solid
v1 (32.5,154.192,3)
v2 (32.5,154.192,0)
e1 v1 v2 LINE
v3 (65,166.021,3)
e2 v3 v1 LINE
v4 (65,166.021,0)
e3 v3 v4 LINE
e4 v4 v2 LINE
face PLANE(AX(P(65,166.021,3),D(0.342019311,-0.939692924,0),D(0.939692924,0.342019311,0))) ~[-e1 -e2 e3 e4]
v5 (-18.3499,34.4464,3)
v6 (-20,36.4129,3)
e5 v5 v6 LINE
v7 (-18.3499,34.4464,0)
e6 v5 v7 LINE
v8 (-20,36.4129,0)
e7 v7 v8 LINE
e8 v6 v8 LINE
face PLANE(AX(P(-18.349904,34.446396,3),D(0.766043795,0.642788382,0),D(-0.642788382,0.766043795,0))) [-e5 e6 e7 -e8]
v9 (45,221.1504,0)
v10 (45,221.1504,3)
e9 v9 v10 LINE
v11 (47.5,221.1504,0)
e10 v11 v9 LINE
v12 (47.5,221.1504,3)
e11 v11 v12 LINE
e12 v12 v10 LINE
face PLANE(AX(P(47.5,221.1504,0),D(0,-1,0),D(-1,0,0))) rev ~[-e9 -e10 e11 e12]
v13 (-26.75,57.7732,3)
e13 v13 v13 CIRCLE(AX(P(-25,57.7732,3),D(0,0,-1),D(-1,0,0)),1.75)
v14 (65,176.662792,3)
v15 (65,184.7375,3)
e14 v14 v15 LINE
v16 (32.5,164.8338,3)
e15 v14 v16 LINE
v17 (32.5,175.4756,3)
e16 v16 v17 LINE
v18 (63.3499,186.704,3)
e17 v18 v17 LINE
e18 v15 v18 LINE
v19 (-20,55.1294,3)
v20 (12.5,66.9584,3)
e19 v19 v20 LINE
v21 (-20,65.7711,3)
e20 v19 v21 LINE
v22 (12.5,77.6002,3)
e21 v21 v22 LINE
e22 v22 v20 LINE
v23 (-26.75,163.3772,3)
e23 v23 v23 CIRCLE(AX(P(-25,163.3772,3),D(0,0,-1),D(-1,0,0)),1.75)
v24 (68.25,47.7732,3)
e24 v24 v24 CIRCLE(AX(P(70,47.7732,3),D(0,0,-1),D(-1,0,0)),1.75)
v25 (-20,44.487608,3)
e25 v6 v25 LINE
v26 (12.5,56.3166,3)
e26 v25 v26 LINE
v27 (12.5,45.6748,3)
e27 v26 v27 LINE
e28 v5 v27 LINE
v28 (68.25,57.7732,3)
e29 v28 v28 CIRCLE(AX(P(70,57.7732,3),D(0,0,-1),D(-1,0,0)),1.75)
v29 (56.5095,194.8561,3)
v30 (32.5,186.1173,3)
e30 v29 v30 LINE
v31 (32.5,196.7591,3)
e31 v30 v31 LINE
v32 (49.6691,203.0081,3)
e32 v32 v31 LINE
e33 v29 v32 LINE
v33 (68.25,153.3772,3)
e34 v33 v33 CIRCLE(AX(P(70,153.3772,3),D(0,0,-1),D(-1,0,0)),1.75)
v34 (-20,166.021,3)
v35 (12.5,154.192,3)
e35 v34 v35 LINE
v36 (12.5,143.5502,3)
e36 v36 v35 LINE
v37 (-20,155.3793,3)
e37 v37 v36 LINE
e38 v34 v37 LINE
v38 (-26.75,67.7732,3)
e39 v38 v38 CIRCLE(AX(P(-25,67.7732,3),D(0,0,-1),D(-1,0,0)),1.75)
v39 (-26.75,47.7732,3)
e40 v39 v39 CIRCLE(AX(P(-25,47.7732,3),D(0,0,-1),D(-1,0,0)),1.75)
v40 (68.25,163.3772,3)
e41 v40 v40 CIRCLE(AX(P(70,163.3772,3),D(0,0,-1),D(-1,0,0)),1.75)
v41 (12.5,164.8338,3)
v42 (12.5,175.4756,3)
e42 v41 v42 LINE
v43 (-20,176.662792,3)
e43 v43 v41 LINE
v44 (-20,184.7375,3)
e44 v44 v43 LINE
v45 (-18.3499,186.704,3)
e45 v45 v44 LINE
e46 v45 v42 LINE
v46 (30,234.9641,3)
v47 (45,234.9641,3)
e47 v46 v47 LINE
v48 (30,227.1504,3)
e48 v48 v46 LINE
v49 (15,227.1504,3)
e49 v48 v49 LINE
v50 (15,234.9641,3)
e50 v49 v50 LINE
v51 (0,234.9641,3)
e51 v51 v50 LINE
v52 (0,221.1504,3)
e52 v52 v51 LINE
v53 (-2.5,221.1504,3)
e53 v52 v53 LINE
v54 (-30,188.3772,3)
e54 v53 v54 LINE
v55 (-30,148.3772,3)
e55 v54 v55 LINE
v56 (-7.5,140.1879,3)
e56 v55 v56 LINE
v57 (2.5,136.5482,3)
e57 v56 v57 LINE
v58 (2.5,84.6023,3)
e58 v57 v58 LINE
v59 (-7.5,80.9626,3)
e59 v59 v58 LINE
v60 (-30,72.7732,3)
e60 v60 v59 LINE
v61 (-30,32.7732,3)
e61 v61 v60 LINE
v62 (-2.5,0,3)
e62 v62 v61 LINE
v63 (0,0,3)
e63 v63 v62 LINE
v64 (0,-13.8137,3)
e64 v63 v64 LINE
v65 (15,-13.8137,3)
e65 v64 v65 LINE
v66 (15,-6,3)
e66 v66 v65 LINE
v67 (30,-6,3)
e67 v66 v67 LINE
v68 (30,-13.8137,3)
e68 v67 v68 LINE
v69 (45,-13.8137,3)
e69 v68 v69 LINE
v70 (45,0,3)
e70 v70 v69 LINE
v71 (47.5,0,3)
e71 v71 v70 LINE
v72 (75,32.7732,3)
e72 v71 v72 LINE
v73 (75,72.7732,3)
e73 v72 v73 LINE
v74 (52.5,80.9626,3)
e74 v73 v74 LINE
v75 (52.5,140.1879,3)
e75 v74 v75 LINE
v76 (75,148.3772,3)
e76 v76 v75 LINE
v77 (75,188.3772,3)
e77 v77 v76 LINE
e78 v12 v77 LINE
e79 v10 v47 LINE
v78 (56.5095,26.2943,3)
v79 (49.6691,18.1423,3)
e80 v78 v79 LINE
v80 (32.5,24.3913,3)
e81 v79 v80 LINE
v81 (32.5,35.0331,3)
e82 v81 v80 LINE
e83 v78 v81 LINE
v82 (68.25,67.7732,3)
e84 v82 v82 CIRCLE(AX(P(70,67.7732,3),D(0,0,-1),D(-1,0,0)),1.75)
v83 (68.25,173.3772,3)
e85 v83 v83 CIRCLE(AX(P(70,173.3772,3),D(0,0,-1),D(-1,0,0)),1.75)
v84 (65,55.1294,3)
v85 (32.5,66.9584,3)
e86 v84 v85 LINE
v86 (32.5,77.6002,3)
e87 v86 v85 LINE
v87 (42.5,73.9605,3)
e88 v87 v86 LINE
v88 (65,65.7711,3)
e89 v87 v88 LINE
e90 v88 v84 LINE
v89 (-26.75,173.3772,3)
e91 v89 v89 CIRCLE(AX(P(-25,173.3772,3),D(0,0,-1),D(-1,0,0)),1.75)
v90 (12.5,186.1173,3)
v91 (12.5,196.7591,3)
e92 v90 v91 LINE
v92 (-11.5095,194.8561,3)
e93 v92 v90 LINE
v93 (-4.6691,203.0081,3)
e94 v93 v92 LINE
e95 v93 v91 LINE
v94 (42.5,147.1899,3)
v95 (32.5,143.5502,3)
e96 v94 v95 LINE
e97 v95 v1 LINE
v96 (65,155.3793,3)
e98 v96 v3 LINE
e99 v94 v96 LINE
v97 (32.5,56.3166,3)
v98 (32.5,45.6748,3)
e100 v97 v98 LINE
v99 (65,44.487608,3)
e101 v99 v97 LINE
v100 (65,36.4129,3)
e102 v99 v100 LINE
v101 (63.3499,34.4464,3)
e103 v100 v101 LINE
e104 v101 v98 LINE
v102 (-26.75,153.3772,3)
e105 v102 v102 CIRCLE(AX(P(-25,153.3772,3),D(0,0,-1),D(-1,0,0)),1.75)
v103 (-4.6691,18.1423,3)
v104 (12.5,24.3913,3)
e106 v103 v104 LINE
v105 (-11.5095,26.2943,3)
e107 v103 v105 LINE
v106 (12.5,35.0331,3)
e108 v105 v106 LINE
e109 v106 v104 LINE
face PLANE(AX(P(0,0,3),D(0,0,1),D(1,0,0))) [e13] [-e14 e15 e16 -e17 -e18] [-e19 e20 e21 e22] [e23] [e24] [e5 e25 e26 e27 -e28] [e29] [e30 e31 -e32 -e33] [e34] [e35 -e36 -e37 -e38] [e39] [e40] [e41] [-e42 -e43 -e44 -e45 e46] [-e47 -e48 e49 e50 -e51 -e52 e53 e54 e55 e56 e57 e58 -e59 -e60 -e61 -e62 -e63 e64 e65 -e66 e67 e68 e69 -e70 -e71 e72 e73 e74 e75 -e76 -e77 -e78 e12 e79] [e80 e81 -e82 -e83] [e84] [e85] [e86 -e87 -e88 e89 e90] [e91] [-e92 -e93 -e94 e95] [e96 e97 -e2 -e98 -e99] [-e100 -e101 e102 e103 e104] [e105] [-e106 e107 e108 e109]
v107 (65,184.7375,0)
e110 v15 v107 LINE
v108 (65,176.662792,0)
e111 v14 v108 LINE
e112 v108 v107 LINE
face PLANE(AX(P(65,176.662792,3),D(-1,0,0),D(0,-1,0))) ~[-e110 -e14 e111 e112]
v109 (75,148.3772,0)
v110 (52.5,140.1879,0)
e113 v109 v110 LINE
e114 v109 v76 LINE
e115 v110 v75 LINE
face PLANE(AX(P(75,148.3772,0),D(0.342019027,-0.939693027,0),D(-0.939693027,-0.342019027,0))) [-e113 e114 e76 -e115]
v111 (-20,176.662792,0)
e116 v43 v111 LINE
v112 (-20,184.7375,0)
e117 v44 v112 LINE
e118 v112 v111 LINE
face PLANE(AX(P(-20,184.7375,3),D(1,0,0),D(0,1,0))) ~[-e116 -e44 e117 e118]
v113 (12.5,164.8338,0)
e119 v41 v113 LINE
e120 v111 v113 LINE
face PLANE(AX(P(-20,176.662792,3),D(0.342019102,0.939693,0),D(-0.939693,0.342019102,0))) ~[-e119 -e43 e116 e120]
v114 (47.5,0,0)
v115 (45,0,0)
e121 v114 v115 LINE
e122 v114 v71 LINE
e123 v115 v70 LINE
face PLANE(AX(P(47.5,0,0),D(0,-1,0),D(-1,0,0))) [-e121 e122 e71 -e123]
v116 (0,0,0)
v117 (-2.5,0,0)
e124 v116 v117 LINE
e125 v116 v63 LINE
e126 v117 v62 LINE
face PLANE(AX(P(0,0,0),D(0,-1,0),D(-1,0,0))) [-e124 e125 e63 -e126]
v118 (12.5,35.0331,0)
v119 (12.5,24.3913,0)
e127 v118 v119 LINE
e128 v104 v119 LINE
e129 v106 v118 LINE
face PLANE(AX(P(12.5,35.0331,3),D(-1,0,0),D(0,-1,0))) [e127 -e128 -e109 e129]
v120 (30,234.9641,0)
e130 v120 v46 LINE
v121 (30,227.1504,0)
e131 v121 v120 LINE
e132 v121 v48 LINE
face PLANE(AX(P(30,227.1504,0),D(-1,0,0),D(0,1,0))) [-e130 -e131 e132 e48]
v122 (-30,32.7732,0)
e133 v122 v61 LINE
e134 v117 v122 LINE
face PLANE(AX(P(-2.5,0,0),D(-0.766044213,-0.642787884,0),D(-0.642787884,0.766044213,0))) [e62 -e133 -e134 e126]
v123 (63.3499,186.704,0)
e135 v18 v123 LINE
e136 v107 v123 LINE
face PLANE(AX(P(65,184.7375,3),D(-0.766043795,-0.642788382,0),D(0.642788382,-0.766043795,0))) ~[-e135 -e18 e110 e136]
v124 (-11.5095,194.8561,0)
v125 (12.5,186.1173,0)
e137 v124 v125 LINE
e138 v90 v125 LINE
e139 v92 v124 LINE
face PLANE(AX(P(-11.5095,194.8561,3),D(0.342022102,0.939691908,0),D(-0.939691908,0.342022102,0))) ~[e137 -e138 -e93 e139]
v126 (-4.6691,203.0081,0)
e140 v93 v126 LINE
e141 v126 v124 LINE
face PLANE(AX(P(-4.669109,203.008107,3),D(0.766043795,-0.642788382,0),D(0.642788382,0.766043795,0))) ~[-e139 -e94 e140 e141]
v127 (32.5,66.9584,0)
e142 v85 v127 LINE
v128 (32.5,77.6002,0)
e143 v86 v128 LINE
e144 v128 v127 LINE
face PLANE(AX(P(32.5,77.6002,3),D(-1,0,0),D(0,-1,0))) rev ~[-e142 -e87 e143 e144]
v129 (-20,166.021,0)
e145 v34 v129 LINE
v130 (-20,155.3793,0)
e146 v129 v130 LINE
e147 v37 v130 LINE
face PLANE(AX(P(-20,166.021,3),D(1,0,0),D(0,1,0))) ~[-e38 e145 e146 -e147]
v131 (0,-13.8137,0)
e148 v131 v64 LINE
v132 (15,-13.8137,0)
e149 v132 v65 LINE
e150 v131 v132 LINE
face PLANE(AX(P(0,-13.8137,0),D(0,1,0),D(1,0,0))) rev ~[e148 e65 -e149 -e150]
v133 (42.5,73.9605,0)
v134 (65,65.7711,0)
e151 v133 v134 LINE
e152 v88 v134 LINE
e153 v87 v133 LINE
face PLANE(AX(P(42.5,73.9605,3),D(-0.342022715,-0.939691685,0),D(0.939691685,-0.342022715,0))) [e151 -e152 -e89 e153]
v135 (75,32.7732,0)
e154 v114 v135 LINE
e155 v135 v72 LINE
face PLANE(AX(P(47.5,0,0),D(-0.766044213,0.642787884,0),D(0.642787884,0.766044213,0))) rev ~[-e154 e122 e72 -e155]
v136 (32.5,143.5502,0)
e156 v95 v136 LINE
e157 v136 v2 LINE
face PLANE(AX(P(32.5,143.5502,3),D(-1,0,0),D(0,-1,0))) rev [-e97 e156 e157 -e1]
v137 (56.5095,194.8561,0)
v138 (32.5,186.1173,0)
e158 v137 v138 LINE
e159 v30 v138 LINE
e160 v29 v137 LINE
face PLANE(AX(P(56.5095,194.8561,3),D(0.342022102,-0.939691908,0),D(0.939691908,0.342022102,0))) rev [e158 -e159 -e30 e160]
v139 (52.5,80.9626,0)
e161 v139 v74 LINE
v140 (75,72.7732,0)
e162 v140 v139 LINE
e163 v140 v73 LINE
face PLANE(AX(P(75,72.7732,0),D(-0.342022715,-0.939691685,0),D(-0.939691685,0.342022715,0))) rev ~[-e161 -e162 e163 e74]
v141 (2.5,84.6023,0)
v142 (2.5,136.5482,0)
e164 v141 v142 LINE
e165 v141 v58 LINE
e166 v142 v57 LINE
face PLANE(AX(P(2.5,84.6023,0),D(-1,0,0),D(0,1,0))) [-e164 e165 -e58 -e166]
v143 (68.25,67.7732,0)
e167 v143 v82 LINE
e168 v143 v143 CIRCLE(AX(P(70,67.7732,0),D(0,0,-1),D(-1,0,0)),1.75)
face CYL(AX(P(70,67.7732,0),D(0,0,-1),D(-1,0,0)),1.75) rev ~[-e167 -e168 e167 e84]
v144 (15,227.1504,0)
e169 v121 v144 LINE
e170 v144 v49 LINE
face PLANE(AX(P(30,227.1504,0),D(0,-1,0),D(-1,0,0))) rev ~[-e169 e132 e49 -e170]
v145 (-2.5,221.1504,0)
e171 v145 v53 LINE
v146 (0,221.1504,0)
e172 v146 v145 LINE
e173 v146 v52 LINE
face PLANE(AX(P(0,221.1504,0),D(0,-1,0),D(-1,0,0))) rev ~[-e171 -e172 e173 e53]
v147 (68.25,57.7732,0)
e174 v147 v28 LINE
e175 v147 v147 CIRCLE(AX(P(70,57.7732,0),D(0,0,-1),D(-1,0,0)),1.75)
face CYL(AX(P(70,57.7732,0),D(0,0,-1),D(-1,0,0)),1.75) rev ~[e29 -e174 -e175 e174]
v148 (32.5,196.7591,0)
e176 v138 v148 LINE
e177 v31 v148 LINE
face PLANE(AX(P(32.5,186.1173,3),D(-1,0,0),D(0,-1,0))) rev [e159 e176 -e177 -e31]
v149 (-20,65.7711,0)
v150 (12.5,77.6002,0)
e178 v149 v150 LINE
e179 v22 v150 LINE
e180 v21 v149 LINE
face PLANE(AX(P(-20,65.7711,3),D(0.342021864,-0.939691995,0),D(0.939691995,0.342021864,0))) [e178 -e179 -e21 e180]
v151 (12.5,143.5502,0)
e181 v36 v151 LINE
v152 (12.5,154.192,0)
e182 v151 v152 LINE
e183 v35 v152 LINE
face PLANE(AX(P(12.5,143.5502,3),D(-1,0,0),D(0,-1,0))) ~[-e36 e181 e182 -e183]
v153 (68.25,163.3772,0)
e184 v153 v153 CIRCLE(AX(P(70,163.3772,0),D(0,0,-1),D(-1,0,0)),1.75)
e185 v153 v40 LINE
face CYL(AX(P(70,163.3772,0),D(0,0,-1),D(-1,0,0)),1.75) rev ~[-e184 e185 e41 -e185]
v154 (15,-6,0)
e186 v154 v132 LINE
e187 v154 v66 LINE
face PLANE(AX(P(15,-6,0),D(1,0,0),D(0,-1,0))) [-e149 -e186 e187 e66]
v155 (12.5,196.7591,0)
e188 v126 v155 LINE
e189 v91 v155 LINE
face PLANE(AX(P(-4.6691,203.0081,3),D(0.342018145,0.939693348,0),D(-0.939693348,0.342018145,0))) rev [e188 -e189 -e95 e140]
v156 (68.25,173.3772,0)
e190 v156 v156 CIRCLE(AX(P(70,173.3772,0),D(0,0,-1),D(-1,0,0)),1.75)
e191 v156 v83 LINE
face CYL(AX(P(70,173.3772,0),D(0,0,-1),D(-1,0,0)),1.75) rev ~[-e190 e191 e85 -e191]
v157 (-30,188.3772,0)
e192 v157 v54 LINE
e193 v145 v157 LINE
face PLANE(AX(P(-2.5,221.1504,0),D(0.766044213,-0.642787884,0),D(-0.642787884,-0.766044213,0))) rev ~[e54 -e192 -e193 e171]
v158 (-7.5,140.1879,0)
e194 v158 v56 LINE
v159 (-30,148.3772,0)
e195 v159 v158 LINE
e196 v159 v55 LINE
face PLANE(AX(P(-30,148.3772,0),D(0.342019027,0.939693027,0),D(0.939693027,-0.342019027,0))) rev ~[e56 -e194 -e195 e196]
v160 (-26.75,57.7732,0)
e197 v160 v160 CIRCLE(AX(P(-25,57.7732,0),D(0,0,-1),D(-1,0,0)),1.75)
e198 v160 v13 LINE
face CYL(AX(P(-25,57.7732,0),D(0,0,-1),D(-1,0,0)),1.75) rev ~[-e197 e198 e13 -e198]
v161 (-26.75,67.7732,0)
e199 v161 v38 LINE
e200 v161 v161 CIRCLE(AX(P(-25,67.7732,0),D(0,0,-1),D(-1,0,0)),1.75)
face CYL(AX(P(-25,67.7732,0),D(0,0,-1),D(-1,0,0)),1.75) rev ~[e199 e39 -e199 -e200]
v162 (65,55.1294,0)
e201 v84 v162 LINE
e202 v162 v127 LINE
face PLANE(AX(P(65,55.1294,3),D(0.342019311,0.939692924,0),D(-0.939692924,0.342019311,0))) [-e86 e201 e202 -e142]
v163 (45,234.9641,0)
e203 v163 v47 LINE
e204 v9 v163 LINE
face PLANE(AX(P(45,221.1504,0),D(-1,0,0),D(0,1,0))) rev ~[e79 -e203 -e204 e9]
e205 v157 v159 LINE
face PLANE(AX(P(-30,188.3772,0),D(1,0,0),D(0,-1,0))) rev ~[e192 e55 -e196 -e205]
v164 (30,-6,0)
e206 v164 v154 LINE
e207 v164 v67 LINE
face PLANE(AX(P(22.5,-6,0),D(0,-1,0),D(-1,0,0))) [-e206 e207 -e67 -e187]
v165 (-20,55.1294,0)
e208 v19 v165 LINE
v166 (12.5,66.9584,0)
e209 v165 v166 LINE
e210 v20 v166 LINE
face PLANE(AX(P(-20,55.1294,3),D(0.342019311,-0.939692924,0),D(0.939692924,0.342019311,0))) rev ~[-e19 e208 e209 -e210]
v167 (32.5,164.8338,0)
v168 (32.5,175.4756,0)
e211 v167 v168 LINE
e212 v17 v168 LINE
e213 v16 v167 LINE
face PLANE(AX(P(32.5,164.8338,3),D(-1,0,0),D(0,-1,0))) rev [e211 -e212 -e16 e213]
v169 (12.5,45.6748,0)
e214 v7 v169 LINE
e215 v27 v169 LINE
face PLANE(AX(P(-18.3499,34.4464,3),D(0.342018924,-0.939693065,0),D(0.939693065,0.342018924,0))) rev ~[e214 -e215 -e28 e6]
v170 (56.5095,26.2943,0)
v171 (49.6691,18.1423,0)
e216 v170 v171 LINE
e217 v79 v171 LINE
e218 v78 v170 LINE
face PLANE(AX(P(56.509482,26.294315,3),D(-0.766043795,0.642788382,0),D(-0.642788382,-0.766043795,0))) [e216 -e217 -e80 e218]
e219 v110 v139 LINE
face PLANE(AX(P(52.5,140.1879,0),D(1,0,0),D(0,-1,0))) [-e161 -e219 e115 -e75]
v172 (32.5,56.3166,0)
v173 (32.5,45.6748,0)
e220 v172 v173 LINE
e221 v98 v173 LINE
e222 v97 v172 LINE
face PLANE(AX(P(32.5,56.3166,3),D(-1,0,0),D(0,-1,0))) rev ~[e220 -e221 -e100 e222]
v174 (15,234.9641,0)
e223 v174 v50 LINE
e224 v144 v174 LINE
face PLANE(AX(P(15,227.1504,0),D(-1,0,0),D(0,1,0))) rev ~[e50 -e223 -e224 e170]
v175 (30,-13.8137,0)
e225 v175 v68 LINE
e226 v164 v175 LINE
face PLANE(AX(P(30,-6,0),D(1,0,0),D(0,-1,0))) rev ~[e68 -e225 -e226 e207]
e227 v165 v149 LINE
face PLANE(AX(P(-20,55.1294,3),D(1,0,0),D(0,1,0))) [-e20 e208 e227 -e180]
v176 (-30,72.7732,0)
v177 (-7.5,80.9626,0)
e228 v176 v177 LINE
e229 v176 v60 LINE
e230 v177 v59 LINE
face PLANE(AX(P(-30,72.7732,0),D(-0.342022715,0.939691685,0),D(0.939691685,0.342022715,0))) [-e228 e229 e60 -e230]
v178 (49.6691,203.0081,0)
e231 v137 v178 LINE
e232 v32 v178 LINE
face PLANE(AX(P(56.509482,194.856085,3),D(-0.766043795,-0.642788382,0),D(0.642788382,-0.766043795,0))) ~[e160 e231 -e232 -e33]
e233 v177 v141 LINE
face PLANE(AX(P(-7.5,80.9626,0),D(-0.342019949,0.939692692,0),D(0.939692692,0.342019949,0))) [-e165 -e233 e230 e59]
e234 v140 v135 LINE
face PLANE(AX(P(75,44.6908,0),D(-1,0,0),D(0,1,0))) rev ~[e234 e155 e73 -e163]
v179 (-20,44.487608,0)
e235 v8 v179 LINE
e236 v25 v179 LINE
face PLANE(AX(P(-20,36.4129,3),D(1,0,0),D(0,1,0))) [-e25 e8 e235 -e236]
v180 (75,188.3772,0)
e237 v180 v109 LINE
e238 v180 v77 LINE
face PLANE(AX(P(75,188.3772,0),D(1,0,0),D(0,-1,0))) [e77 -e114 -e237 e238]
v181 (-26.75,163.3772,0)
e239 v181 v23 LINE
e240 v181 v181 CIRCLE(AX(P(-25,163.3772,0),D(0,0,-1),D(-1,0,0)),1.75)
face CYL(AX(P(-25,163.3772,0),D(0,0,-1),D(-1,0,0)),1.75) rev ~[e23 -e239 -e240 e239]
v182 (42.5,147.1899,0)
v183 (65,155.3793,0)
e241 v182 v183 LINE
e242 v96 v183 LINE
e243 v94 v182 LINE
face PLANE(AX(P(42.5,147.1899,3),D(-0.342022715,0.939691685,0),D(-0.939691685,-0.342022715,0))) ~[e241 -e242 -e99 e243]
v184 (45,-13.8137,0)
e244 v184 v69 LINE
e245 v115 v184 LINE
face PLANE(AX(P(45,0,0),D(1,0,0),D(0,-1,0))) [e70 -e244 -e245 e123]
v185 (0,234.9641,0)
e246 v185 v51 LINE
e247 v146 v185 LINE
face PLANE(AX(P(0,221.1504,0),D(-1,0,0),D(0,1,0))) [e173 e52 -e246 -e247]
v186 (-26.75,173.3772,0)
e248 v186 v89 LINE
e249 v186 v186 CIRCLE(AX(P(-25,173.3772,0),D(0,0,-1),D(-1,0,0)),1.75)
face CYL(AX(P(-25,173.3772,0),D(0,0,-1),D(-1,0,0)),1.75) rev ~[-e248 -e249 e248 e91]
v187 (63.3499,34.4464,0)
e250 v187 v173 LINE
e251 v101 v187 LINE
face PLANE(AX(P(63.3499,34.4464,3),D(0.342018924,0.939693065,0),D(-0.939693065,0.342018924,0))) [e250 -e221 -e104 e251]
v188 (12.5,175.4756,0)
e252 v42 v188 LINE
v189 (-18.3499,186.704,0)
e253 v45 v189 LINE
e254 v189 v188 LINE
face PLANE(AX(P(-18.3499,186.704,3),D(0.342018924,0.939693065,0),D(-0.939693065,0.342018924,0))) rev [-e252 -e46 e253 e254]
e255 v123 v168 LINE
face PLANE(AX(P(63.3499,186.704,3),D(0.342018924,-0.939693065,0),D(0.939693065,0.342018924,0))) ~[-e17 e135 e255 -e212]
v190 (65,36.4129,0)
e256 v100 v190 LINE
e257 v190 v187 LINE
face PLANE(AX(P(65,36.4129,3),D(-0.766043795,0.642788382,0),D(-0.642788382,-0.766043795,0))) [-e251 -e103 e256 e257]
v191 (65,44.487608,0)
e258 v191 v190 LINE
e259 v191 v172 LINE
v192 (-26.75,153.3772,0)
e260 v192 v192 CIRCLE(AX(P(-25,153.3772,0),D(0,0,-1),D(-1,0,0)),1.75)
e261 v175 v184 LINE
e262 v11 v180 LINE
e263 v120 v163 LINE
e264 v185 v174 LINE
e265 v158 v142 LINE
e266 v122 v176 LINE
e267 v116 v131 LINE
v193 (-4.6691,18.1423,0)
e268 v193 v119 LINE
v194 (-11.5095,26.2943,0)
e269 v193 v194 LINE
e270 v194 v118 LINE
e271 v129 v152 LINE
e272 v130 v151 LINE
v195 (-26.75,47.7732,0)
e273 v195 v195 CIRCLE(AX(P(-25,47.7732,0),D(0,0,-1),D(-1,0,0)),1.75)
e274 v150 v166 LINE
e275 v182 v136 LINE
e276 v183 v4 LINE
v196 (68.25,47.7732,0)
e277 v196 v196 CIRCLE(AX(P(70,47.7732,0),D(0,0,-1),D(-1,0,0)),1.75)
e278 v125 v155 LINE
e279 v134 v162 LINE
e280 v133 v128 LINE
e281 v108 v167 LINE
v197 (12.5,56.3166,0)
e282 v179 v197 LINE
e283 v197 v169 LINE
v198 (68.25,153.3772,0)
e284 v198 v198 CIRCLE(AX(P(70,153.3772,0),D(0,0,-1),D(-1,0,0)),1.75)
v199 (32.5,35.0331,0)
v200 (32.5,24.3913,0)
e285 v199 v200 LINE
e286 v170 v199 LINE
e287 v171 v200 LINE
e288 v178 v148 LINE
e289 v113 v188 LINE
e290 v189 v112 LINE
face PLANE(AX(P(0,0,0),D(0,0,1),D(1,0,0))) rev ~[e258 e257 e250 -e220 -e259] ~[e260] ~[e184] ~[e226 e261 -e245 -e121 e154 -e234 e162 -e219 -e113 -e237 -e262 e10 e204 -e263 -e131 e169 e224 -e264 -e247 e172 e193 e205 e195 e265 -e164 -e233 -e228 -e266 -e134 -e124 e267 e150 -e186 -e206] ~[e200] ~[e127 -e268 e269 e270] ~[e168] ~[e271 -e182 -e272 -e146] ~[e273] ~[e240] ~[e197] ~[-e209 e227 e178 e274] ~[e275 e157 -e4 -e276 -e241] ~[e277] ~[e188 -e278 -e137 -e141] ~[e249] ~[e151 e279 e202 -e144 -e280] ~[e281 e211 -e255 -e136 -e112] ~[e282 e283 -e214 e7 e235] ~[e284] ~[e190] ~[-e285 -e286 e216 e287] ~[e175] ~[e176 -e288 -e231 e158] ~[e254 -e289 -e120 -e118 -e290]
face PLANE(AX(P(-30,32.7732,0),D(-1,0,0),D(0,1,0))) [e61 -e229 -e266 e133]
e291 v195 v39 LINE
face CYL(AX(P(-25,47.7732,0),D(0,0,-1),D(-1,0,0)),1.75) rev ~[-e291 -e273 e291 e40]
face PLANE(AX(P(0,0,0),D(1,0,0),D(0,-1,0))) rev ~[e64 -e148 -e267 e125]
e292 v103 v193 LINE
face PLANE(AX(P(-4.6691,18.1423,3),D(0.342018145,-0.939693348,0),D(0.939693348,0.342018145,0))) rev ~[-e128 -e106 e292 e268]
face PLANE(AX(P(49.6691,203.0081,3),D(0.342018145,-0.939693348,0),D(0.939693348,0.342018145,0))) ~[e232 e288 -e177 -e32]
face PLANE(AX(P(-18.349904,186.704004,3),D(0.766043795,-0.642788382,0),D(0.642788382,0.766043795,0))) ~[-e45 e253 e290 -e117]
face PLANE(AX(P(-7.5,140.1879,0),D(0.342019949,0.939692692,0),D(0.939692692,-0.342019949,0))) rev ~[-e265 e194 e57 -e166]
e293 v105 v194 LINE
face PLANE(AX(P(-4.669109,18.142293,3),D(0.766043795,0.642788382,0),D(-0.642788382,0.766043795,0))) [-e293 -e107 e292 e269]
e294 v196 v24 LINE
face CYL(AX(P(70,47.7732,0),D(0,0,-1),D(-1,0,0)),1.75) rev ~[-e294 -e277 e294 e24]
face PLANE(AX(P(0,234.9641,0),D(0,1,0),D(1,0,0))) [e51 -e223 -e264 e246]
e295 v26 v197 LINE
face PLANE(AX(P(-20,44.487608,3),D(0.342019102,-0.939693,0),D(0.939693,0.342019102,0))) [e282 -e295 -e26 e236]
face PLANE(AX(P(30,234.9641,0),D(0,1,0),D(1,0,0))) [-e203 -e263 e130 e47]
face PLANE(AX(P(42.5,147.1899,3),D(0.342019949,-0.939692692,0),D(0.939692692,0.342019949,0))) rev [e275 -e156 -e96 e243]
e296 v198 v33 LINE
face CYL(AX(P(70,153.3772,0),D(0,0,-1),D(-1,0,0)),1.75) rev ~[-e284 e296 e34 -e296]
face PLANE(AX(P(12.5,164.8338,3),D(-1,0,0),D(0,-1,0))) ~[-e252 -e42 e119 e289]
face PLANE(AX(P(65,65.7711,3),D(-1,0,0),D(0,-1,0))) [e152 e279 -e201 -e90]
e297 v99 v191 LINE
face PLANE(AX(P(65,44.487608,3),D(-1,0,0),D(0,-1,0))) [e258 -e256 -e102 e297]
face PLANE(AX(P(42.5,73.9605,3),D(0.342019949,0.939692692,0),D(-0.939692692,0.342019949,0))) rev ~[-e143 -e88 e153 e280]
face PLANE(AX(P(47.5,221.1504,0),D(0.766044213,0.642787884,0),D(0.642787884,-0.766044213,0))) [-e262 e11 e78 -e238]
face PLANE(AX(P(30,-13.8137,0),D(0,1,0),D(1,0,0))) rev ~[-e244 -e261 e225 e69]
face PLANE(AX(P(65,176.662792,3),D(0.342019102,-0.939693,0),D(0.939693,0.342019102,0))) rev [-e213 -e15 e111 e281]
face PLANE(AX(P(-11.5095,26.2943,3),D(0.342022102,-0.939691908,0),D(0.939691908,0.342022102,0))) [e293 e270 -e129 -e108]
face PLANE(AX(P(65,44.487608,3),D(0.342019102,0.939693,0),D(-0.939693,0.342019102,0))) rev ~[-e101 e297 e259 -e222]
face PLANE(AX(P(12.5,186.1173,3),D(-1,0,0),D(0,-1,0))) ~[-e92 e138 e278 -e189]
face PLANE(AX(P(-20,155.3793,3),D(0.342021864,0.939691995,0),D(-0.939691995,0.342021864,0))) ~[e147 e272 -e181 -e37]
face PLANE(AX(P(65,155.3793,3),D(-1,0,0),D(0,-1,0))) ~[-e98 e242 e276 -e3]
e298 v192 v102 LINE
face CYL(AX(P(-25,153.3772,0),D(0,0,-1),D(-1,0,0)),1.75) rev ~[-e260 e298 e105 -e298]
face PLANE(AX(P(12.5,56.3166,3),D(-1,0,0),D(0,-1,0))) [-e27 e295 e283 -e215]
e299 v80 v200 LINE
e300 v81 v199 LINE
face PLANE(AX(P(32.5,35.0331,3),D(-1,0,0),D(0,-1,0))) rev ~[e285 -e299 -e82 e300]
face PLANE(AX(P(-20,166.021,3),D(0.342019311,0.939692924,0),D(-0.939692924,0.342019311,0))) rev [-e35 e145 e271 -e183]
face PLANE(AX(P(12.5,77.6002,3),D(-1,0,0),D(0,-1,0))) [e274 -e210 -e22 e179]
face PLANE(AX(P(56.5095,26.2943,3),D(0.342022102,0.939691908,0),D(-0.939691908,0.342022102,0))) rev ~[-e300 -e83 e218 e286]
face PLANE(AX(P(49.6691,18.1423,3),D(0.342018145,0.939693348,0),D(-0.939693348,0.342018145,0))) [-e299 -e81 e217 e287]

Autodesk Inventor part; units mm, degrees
ref_plane "YZ Plane" through (0, 0, 0) normal (1, 0, 0) x (0, 1, 0)
ref_plane "XZ Plane" through (0, 0, 0) normal (0, 1, 0) x (-1, 0, 0)
ref_plane "XY Plane" through (0, 0, 0) normal (0, 0, 1) x (1, 0, 0)
sketch "Sketch1" plane through (0, 0, 0) normal (0, 0, 1) x (1, 0, 0)
  line L0 (0, -13.8137) -> (15, -13.8137) projected
  line L1 (0, 0) -> (0, -13.8137) projected
  line L2 (45, 0) -> (0, 0) projected
  line L3 (45, 0) -> (45, -13.8137) projected
  line L4 (30, -13.8137) -> (45, -13.8137) projected
  line L5 (30, -6) -> (30, -13.8137) projected
  line L6 (30, -6) -> (15, -6) projected
  line L7 (15, -6) -> (15, -13.8137) projected
  line L8 (-2.5, 0) -> (-2.5, -11.3137) projected
  line L9 (47.5, 0) -> (-2.5, 0) projected
  line L10 (47.5, 0) -> (75, 32.7732)
  line L11 (47.5, 0) -> (90.2824, 0) construction
  line L12 (75, 32.7732) -> (75, 72.7732)
  line L13 (75, 72.7732) -> (52.5, 80.9626)
  line L14 (52.5, 80.9626) -> (52.5, 110.5752)
  line L15 (22.5, -6) -> (22.5, 110.5752)
  line L16 (-10.9317, 221.1504) -> (1.7683, 221.1504) construction
  line L17 (22.5, 0) -> (22.5, 221.1504)
  line L18 (22.5, 110.5752) -> (52.5, 110.5752) construction
  line L19 (-2.5, 0) -> (-30, 32.7732)
  line L20 (-30, 32.7732) -> (-30, 72.7732)
  line L21 (-30, 72.7732) -> (-7.5, 80.9626)
  line L22 (-7.5, 80.9626) -> (2.5, 84.6023)
  line L23 (2.5, 84.6023) -> (2.5, 110.5752)
  line L24 (22.5, 110.5752) -> (2.5, 110.5752) construction
  line L25 (47.5, 221.1504) -> (75, 188.3772)
  line L26 (75, 188.3772) -> (75, 148.3772)
  line L27 (75, 148.3772) -> (52.5, 140.1879)
  line L28 (52.5, 140.1879) -> (52.5, 110.5752)
  line L29 (-30, 148.3772) -> (-7.5, 140.1879)
  line L30 (-30, 188.3772) -> (-30, 148.3772)
  line L31 (-2.5, 221.1504) -> (-30, 188.3772)
  line L32 (-7.5, 140.1879) -> (2.5, 136.5482)
  line L33 (2.5, 136.5482) -> (2.5, 110.5752)
  line L34 (0, 234.9641) -> (15, 234.9641)
  line L35 (0, 221.1504) -> (0, 234.9641)
  line L36 (45, 221.1504) -> (45, 234.9641)
  line L37 (30, 234.9641) -> (45, 234.9641)
  line L38 (30, 227.1504) -> (30, 234.9641)
  line L39 (30, 227.1504) -> (15, 227.1504)
  line L40 (15, 227.1504) -> (15, 234.9641)
  line L41 (47.5, 221.1504) -> (-2.5, 221.1504)
  line L42 (75, 40) -> (75, 44.6908)
  dimension "d0" = 50
  dimension "d1" = 110
  dimension "d2" = 30
  dimension "d3" = 40
  dimension "d4" = 30
  dimension "d5" = 20
extrude "Extrusion1" add sketch "Sketch1" along normal blind 3
sketch "Sketch2" plane through (0, 0, 3) normal (0, 0, 1) x (1, 0, 0)
  line L0 (45, -13.8137) -> (45, 0) projected
  line L1 (45, 0) -> (47.5, 0) projected
  line L2 (47.5, 0) -> (75, 32.7732) projected
  line L3 (75, 32.7732) -> (75, 72.7732) projected
  line L4 (75, 72.7732) -> (52.5, 80.9626) projected
  line L5 (52.5, 80.9626) -> (52.5, 140.1879) projected
  line L6 (52.5, 140.1879) -> (75, 148.3772) projected
  line L7 (75, 148.3772) -> (75, 188.3772) projected
  line L8 (75, 188.3772) -> (47.5, 221.1504) projected
  line L9 (47.5, 221.1504) -> (45, 221.1504) projected
  line L10 (45, 221.1504) -> (45, 234.9641) projected
  line L11 (45, 234.9641) -> (30, 234.9641) projected
  line L12 (30, 234.9641) -> (30, 227.1504) projected
  line L13 (30, 227.1504) -> (15, 227.1504) projected
  line L14 (15, 227.1504) -> (15, 234.9641) projected
  line L15 (15, 234.9641) -> (0, 234.9641) projected
  line L16 (0, 234.9641) -> (0, 221.1504) projected
  line L17 (0, 221.1504) -> (-2.5, 221.1504) projected
  line L18 (-2.5, 221.1504) -> (-30, 188.3772) projected
  line L19 (-30, 188.3772) -> (-30, 148.3772) projected
  line L20 (-30, 148.3772) -> (2.5, 136.5482) projected
  line L21 (2.5, 136.5482) -> (2.5, 84.6023) projected
  line L22 (2.5, 84.6023) -> (-30, 72.7732) projected
  line L23 (-30, 72.7732) -> (-30, 32.7732) projected
  line L24 (-30, 32.7732) -> (-2.5, 0) projected
  line L25 (-2.5, 0) -> (0, 0) projected
  line L26 (0, 0) -> (0, -13.8137) projected
  line L27 (0, -13.8137) -> (15, -13.8137) projected
  line L28 (15, -13.8137) -> (15, -6) projected
  line L29 (15, -6) -> (30, -6) projected
  line L30 (30, -6) -> (30, -13.8137) projected
  line L31 (30, -13.8137) -> (45, -13.8137) projected
  line L32 (-20, 36.4129) -> (-20, 65.7711)
  line L33 (-20, 65.7711) -> (12.5, 77.6002)
  line L34 (12.5, 77.6002) -> (12.5, 143.5503)
  line L35 (12.5, 143.5503) -> (-20, 155.3793)
  line L36 (-20, 155.3793) -> (-20, 184.7375)
  line L37 (-20, 184.7375) -> (2.1631, 211.1504)
  line L38 (2.1631, 211.1504) -> (10, 211.1504)
  line L39 (10, 211.1504) -> (10, 217.1504)
  line L40 (10, 217.1504) -> (35, 217.1504)
  line L41 (35, 217.1504) -> (35, 211.1504)
  line L42 (35, 211.1504) -> (42.8369, 211.1504)
  line L43 (42.8369, 211.1504) -> (65, 184.7375)
  line L44 (65, 184.7375) -> (65, 155.3793)
  line L45 (65, 155.3793) -> (42.5, 147.19)
  line L46 (42.5, 147.19) -> (42.5, 73.9605)
  line L47 (42.5, 73.9605) -> (65, 65.7711)
  line L48 (65, 65.7711) -> (65, 36.4129)
  line L49 (65, 36.4129) -> (42.8369, 10)
  line L50 (42.8369, 10) -> (35, 10)
  line L51 (35, 10) -> (35, 4)
  line L52 (35, 4) -> (10, 4)
  line L53 (10, 4) -> (10, 10)
  line L54 (10, 10) -> (2.1631, 10)
  line L55 (2.1631, 10) -> (-20, 36.4129)
  line L56 (12.5, 77.6002) -> (12.5, 10)
  line L57 (12.5, 10) -> (10, 10)
  line L58 (22.5, 4) -> (22.5, 217.1504) construction
  line L59 (32.5, 77.6002) -> (32.5, 10)
  line L60 (32.5, 10) -> (35, 10)
  line L61 (32.5, 77.6002) -> (32.5, 211.1504)
  line L62 (32.5, 211.1504) -> (35, 211.1504)
  line L63 (12.5, 143.5503) -> (12.5, 211.1504)
  line L64 (12.5, 211.1504) -> (10, 211.1504)
  line L65 (-20, 55.1294) -> (12.5, 66.9584)
  line L66 (-25.1903, 42.5985) -> (12.5, 56.3166)
  line L67 (-18.3499, 34.4464) -> (12.5, 45.6748)
  line L68 (-11.5095, 26.2943) -> (12.5, 35.0331)
  line L69 (-4.6691, 18.1423) -> (12.5, 24.3913)
  line L70 (65, 55.1294) -> (32.5, 66.9584)
  line L71 (70.1903, 42.5985) -> (32.5, 56.3166)
  line L72 (63.3499, 34.4464) -> (32.5, 45.6748)
  line L73 (56.5095, 26.2943) -> (32.5, 35.0331)
  line L74 (49.6691, 18.1423) -> (32.5, 24.3913)
  line L75 (42.5, 73.9605) -> (32.5, 77.6002)
  point P0 (32.5, 66.9584)
  point P1 (65, 55.1294)
  point P2 (73.2901, 46.2927)
  point P3 (32.5, 56.3166)
  point P4 (32.5, 45.6748)
  point P5 (63.3499, 34.4464)
  point P6 (56.5095, 26.2943)
  point P7 (32.5, 35.0331)
  point P8 (32.5, 24.3913)
  point P9 (49.6691, 18.1423)
  point P10 (65, 44.4876)
  point P11 (-20, 44.4876)
  dimension "d8" = 10
  dimension "d9" = 10
  dimension "d10" = 10
  dimension "d11" = 10
  dimension "d12" = 10
  dimension "d13" = 10
extrude "Extrusion2" cut sketch "Sketch2" against normal blind 3 contours L32 L33 L56 L65 | L66 L56 L67 L55 L32 | L68 L56 L69 L55 | L75 L47 L48 L70 L59 | L71 L48 L49 L72 L59 | L74 L59 L73 L49
ref_plane "Work Plane1" through (0, 110.5752, 0) normal (0, 1, 0) x (1, 0, 0)
mirror "Mirror1" about plane through (0, 110.5752, 0) normal (0, 1, 0) of "Extrusion2"
sketch "Sketch3" plane through (0, 0, 0) normal (0, 0, -1) x (-1, 0, 0)
  line L0 (4.6691, 203.0082) -> (11.5095, 194.8561) projected
  line L1 (-32.5, 143.5503) -> (-65, 155.3793) projected
  line L2 (-65, 155.3793) -> (-65, 166.0211) projected
  line L3 (-56.5095, 194.8561) -> (-49.6691, 203.0082) projected
  line L4 (20, 166.0211) -> (20, 155.3793) projected
  line L5 (20, 155.3793) -> (-12.5, 143.5503) projected
  line L6 (11.5095, 26.2943) -> (4.6691, 18.1423) projected
  line L7 (-65, 55.1294) -> (-65, 65.7711) projected
  line L8 (-65, 65.7711) -> (-32.5, 77.6002) projected
  line L9 (-49.6691, 18.1423) -> (-56.5095, 26.2943) projected
  line L10 (-12.5, 77.6002) -> (20, 65.7711) projected
  line L11 (20, 65.7711) -> (20, 55.1294) projected
  line L12 (-45, -13.8137) -> (-45, 0) projected
  line L13 (-30, -13.8137) -> (-45, -13.8137) projected
  line L14 (-30, -6) -> (-30, -13.8137) projected
  line L15 (-15, -6) -> (-30, -6) projected
  line L16 (-15, -13.8137) -> (-15, -6) projected
  line L17 (0, -13.8137) -> (-15, -13.8137) projected
  line L18 (0, 0) -> (0, -13.8137) projected
  line L19 (2.5, 0) -> (0, 0) projected
  line L20 (30, 32.7732) -> (2.5, 0) projected
  line L21 (30, 72.7732) -> (30, 32.7732) projected
  line L22 (-2.5, 84.6023) -> (30, 72.7732) projected
  line L23 (-2.5, 136.5482) -> (-2.5, 84.6023) projected
  line L24 (30, 148.3772) -> (-2.5, 136.5482) projected
  line L25 (30, 188.3772) -> (30, 148.3772) projected
  line L26 (2.5, 221.1504) -> (30, 188.3772) projected
  line L27 (0, 221.1504) -> (2.5, 221.1504) projected
  line L28 (0, 234.9641) -> (0, 221.1504) projected
  line L29 (-15, 234.9641) -> (0, 234.9641) projected
  line L30 (-15, 227.1504) -> (-15, 234.9641) projected
  line L31 (-30, 227.1504) -> (-15, 227.1504) projected
  line L32 (-30, 234.9641) -> (-30, 227.1504) projected
  line L33 (-45, 234.9641) -> (-30, 234.9641) projected
  line L34 (-45, 221.1504) -> (-45, 234.9641) projected
  line L35 (-47.5, 221.1504) -> (-45, 221.1504) projected
  line L36 (-75, 188.3772) -> (-47.5, 221.1504) projected
  line L37 (-75, 148.3772) -> (-75, 188.3772) projected
  line L38 (-52.5, 140.1879) -> (-75, 148.3772) projected
  line L39 (-52.5, 80.9626) -> (-52.5, 140.1879) projected
  line L40 (-75, 72.7732) -> (-52.5, 80.9626) projected
  line L41 (-75, 32.7732) -> (-75, 72.7732) projected
  line L42 (-47.5, 0) -> (-75, 32.7732) projected
  line L43 (-45, 0) -> (-47.5, 0) projected
  circle A0 centre (25, 67.7732) radius 1.75
  circle A1 centre (25, 57.7732) radius 1.75
  circle A2 centre (25, 47.7732) radius 1.75
  line L44 (-2.5, 136.5482) -> (-2.5, 84.6023) projected
  line L45 (-2.5, 110.5752) -> (-52.5, 110.5752)
  circle A3 centre (25, 153.3772) radius 1.75
  circle A4 centre (25, 163.3772) radius 1.75
  circle A5 centre (25, 173.3772) radius 1.75
  line L46 (-15, -6) -> (-30, -6) projected
  line L47 (-22.5, -6) -> (-22.5, 227.1504)
  line L48 (-30, 227.1504) -> (-15, 227.1504) projected
  circle A6 centre (-70, 67.7732) radius 1.75
  circle A7 centre (-70, 57.7732) radius 1.75
  circle A8 centre (-70, 47.7732) radius 1.75
  circle A9 centre (-70, 153.3772) radius 1.75
  circle A10 centre (-70, 163.3772) radius 1.75
  circle A11 centre (-70, 173.3772) radius 1.75
  line L49 (-12.5, 154.192) -> (20, 166.0211) projected
  line L50 (-12.5, 143.5503) -> (-12.5, 154.192) projected
  line L51 (-49.6691, 203.0082) -> (-32.5, 196.7591) projected
  line L52 (-32.5, 196.7591) -> (-32.5, 186.1174) projected
  line L53 (-32.5, 186.1174) -> (-56.5095, 194.8561) projected
  line L54 (-32.5, 154.192) -> (-32.5, 143.5503) projected
  line L55 (-65, 166.0211) -> (-32.5, 154.192) projected
  line L56 (11.5095, 194.8561) -> (-12.5, 186.1174) projected
  line L57 (-12.5, 186.1174) -> (-12.5, 196.7591) projected
  line L58 (-12.5, 196.7591) -> (4.6691, 203.0082) projected
  line L59 (20, 55.1294) -> (-12.5, 66.9584) projected
  line L60 (-12.5, 66.9584) -> (-12.5, 77.6002) projected
  line L61 (-32.5, 24.3913) -> (-49.6691, 18.1423) projected
  line L62 (-56.5095, 26.2943) -> (-32.5, 35.0331) projected
  line L63 (-32.5, 35.0331) -> (-32.5, 24.3913) projected
  line L64 (-32.5, 77.6002) -> (-32.5, 66.9584) projected
  line L65 (-32.5, 66.9584) -> (-65, 55.1294) projected
  line L66 (-12.5, 35.0331) -> (11.5095, 26.2943) projected
  line L67 (4.6691, 18.1423) -> (-12.5, 24.3913) projected
  line L68 (-12.5, 24.3913) -> (-12.5, 35.0331) projected
  dimension "d16" = 3.5
  dimension "d19" = 10
  dimension "d24" = 5
  dimension "d25" = 5
extrude "Extrusion3" cut sketch "Sketch3" against normal through all contours A0 | A1 | A2 | A3 | A4 | A5 | A6 | A7 | A8 | A9 | A10 | A11
properties part number "Backplane"
